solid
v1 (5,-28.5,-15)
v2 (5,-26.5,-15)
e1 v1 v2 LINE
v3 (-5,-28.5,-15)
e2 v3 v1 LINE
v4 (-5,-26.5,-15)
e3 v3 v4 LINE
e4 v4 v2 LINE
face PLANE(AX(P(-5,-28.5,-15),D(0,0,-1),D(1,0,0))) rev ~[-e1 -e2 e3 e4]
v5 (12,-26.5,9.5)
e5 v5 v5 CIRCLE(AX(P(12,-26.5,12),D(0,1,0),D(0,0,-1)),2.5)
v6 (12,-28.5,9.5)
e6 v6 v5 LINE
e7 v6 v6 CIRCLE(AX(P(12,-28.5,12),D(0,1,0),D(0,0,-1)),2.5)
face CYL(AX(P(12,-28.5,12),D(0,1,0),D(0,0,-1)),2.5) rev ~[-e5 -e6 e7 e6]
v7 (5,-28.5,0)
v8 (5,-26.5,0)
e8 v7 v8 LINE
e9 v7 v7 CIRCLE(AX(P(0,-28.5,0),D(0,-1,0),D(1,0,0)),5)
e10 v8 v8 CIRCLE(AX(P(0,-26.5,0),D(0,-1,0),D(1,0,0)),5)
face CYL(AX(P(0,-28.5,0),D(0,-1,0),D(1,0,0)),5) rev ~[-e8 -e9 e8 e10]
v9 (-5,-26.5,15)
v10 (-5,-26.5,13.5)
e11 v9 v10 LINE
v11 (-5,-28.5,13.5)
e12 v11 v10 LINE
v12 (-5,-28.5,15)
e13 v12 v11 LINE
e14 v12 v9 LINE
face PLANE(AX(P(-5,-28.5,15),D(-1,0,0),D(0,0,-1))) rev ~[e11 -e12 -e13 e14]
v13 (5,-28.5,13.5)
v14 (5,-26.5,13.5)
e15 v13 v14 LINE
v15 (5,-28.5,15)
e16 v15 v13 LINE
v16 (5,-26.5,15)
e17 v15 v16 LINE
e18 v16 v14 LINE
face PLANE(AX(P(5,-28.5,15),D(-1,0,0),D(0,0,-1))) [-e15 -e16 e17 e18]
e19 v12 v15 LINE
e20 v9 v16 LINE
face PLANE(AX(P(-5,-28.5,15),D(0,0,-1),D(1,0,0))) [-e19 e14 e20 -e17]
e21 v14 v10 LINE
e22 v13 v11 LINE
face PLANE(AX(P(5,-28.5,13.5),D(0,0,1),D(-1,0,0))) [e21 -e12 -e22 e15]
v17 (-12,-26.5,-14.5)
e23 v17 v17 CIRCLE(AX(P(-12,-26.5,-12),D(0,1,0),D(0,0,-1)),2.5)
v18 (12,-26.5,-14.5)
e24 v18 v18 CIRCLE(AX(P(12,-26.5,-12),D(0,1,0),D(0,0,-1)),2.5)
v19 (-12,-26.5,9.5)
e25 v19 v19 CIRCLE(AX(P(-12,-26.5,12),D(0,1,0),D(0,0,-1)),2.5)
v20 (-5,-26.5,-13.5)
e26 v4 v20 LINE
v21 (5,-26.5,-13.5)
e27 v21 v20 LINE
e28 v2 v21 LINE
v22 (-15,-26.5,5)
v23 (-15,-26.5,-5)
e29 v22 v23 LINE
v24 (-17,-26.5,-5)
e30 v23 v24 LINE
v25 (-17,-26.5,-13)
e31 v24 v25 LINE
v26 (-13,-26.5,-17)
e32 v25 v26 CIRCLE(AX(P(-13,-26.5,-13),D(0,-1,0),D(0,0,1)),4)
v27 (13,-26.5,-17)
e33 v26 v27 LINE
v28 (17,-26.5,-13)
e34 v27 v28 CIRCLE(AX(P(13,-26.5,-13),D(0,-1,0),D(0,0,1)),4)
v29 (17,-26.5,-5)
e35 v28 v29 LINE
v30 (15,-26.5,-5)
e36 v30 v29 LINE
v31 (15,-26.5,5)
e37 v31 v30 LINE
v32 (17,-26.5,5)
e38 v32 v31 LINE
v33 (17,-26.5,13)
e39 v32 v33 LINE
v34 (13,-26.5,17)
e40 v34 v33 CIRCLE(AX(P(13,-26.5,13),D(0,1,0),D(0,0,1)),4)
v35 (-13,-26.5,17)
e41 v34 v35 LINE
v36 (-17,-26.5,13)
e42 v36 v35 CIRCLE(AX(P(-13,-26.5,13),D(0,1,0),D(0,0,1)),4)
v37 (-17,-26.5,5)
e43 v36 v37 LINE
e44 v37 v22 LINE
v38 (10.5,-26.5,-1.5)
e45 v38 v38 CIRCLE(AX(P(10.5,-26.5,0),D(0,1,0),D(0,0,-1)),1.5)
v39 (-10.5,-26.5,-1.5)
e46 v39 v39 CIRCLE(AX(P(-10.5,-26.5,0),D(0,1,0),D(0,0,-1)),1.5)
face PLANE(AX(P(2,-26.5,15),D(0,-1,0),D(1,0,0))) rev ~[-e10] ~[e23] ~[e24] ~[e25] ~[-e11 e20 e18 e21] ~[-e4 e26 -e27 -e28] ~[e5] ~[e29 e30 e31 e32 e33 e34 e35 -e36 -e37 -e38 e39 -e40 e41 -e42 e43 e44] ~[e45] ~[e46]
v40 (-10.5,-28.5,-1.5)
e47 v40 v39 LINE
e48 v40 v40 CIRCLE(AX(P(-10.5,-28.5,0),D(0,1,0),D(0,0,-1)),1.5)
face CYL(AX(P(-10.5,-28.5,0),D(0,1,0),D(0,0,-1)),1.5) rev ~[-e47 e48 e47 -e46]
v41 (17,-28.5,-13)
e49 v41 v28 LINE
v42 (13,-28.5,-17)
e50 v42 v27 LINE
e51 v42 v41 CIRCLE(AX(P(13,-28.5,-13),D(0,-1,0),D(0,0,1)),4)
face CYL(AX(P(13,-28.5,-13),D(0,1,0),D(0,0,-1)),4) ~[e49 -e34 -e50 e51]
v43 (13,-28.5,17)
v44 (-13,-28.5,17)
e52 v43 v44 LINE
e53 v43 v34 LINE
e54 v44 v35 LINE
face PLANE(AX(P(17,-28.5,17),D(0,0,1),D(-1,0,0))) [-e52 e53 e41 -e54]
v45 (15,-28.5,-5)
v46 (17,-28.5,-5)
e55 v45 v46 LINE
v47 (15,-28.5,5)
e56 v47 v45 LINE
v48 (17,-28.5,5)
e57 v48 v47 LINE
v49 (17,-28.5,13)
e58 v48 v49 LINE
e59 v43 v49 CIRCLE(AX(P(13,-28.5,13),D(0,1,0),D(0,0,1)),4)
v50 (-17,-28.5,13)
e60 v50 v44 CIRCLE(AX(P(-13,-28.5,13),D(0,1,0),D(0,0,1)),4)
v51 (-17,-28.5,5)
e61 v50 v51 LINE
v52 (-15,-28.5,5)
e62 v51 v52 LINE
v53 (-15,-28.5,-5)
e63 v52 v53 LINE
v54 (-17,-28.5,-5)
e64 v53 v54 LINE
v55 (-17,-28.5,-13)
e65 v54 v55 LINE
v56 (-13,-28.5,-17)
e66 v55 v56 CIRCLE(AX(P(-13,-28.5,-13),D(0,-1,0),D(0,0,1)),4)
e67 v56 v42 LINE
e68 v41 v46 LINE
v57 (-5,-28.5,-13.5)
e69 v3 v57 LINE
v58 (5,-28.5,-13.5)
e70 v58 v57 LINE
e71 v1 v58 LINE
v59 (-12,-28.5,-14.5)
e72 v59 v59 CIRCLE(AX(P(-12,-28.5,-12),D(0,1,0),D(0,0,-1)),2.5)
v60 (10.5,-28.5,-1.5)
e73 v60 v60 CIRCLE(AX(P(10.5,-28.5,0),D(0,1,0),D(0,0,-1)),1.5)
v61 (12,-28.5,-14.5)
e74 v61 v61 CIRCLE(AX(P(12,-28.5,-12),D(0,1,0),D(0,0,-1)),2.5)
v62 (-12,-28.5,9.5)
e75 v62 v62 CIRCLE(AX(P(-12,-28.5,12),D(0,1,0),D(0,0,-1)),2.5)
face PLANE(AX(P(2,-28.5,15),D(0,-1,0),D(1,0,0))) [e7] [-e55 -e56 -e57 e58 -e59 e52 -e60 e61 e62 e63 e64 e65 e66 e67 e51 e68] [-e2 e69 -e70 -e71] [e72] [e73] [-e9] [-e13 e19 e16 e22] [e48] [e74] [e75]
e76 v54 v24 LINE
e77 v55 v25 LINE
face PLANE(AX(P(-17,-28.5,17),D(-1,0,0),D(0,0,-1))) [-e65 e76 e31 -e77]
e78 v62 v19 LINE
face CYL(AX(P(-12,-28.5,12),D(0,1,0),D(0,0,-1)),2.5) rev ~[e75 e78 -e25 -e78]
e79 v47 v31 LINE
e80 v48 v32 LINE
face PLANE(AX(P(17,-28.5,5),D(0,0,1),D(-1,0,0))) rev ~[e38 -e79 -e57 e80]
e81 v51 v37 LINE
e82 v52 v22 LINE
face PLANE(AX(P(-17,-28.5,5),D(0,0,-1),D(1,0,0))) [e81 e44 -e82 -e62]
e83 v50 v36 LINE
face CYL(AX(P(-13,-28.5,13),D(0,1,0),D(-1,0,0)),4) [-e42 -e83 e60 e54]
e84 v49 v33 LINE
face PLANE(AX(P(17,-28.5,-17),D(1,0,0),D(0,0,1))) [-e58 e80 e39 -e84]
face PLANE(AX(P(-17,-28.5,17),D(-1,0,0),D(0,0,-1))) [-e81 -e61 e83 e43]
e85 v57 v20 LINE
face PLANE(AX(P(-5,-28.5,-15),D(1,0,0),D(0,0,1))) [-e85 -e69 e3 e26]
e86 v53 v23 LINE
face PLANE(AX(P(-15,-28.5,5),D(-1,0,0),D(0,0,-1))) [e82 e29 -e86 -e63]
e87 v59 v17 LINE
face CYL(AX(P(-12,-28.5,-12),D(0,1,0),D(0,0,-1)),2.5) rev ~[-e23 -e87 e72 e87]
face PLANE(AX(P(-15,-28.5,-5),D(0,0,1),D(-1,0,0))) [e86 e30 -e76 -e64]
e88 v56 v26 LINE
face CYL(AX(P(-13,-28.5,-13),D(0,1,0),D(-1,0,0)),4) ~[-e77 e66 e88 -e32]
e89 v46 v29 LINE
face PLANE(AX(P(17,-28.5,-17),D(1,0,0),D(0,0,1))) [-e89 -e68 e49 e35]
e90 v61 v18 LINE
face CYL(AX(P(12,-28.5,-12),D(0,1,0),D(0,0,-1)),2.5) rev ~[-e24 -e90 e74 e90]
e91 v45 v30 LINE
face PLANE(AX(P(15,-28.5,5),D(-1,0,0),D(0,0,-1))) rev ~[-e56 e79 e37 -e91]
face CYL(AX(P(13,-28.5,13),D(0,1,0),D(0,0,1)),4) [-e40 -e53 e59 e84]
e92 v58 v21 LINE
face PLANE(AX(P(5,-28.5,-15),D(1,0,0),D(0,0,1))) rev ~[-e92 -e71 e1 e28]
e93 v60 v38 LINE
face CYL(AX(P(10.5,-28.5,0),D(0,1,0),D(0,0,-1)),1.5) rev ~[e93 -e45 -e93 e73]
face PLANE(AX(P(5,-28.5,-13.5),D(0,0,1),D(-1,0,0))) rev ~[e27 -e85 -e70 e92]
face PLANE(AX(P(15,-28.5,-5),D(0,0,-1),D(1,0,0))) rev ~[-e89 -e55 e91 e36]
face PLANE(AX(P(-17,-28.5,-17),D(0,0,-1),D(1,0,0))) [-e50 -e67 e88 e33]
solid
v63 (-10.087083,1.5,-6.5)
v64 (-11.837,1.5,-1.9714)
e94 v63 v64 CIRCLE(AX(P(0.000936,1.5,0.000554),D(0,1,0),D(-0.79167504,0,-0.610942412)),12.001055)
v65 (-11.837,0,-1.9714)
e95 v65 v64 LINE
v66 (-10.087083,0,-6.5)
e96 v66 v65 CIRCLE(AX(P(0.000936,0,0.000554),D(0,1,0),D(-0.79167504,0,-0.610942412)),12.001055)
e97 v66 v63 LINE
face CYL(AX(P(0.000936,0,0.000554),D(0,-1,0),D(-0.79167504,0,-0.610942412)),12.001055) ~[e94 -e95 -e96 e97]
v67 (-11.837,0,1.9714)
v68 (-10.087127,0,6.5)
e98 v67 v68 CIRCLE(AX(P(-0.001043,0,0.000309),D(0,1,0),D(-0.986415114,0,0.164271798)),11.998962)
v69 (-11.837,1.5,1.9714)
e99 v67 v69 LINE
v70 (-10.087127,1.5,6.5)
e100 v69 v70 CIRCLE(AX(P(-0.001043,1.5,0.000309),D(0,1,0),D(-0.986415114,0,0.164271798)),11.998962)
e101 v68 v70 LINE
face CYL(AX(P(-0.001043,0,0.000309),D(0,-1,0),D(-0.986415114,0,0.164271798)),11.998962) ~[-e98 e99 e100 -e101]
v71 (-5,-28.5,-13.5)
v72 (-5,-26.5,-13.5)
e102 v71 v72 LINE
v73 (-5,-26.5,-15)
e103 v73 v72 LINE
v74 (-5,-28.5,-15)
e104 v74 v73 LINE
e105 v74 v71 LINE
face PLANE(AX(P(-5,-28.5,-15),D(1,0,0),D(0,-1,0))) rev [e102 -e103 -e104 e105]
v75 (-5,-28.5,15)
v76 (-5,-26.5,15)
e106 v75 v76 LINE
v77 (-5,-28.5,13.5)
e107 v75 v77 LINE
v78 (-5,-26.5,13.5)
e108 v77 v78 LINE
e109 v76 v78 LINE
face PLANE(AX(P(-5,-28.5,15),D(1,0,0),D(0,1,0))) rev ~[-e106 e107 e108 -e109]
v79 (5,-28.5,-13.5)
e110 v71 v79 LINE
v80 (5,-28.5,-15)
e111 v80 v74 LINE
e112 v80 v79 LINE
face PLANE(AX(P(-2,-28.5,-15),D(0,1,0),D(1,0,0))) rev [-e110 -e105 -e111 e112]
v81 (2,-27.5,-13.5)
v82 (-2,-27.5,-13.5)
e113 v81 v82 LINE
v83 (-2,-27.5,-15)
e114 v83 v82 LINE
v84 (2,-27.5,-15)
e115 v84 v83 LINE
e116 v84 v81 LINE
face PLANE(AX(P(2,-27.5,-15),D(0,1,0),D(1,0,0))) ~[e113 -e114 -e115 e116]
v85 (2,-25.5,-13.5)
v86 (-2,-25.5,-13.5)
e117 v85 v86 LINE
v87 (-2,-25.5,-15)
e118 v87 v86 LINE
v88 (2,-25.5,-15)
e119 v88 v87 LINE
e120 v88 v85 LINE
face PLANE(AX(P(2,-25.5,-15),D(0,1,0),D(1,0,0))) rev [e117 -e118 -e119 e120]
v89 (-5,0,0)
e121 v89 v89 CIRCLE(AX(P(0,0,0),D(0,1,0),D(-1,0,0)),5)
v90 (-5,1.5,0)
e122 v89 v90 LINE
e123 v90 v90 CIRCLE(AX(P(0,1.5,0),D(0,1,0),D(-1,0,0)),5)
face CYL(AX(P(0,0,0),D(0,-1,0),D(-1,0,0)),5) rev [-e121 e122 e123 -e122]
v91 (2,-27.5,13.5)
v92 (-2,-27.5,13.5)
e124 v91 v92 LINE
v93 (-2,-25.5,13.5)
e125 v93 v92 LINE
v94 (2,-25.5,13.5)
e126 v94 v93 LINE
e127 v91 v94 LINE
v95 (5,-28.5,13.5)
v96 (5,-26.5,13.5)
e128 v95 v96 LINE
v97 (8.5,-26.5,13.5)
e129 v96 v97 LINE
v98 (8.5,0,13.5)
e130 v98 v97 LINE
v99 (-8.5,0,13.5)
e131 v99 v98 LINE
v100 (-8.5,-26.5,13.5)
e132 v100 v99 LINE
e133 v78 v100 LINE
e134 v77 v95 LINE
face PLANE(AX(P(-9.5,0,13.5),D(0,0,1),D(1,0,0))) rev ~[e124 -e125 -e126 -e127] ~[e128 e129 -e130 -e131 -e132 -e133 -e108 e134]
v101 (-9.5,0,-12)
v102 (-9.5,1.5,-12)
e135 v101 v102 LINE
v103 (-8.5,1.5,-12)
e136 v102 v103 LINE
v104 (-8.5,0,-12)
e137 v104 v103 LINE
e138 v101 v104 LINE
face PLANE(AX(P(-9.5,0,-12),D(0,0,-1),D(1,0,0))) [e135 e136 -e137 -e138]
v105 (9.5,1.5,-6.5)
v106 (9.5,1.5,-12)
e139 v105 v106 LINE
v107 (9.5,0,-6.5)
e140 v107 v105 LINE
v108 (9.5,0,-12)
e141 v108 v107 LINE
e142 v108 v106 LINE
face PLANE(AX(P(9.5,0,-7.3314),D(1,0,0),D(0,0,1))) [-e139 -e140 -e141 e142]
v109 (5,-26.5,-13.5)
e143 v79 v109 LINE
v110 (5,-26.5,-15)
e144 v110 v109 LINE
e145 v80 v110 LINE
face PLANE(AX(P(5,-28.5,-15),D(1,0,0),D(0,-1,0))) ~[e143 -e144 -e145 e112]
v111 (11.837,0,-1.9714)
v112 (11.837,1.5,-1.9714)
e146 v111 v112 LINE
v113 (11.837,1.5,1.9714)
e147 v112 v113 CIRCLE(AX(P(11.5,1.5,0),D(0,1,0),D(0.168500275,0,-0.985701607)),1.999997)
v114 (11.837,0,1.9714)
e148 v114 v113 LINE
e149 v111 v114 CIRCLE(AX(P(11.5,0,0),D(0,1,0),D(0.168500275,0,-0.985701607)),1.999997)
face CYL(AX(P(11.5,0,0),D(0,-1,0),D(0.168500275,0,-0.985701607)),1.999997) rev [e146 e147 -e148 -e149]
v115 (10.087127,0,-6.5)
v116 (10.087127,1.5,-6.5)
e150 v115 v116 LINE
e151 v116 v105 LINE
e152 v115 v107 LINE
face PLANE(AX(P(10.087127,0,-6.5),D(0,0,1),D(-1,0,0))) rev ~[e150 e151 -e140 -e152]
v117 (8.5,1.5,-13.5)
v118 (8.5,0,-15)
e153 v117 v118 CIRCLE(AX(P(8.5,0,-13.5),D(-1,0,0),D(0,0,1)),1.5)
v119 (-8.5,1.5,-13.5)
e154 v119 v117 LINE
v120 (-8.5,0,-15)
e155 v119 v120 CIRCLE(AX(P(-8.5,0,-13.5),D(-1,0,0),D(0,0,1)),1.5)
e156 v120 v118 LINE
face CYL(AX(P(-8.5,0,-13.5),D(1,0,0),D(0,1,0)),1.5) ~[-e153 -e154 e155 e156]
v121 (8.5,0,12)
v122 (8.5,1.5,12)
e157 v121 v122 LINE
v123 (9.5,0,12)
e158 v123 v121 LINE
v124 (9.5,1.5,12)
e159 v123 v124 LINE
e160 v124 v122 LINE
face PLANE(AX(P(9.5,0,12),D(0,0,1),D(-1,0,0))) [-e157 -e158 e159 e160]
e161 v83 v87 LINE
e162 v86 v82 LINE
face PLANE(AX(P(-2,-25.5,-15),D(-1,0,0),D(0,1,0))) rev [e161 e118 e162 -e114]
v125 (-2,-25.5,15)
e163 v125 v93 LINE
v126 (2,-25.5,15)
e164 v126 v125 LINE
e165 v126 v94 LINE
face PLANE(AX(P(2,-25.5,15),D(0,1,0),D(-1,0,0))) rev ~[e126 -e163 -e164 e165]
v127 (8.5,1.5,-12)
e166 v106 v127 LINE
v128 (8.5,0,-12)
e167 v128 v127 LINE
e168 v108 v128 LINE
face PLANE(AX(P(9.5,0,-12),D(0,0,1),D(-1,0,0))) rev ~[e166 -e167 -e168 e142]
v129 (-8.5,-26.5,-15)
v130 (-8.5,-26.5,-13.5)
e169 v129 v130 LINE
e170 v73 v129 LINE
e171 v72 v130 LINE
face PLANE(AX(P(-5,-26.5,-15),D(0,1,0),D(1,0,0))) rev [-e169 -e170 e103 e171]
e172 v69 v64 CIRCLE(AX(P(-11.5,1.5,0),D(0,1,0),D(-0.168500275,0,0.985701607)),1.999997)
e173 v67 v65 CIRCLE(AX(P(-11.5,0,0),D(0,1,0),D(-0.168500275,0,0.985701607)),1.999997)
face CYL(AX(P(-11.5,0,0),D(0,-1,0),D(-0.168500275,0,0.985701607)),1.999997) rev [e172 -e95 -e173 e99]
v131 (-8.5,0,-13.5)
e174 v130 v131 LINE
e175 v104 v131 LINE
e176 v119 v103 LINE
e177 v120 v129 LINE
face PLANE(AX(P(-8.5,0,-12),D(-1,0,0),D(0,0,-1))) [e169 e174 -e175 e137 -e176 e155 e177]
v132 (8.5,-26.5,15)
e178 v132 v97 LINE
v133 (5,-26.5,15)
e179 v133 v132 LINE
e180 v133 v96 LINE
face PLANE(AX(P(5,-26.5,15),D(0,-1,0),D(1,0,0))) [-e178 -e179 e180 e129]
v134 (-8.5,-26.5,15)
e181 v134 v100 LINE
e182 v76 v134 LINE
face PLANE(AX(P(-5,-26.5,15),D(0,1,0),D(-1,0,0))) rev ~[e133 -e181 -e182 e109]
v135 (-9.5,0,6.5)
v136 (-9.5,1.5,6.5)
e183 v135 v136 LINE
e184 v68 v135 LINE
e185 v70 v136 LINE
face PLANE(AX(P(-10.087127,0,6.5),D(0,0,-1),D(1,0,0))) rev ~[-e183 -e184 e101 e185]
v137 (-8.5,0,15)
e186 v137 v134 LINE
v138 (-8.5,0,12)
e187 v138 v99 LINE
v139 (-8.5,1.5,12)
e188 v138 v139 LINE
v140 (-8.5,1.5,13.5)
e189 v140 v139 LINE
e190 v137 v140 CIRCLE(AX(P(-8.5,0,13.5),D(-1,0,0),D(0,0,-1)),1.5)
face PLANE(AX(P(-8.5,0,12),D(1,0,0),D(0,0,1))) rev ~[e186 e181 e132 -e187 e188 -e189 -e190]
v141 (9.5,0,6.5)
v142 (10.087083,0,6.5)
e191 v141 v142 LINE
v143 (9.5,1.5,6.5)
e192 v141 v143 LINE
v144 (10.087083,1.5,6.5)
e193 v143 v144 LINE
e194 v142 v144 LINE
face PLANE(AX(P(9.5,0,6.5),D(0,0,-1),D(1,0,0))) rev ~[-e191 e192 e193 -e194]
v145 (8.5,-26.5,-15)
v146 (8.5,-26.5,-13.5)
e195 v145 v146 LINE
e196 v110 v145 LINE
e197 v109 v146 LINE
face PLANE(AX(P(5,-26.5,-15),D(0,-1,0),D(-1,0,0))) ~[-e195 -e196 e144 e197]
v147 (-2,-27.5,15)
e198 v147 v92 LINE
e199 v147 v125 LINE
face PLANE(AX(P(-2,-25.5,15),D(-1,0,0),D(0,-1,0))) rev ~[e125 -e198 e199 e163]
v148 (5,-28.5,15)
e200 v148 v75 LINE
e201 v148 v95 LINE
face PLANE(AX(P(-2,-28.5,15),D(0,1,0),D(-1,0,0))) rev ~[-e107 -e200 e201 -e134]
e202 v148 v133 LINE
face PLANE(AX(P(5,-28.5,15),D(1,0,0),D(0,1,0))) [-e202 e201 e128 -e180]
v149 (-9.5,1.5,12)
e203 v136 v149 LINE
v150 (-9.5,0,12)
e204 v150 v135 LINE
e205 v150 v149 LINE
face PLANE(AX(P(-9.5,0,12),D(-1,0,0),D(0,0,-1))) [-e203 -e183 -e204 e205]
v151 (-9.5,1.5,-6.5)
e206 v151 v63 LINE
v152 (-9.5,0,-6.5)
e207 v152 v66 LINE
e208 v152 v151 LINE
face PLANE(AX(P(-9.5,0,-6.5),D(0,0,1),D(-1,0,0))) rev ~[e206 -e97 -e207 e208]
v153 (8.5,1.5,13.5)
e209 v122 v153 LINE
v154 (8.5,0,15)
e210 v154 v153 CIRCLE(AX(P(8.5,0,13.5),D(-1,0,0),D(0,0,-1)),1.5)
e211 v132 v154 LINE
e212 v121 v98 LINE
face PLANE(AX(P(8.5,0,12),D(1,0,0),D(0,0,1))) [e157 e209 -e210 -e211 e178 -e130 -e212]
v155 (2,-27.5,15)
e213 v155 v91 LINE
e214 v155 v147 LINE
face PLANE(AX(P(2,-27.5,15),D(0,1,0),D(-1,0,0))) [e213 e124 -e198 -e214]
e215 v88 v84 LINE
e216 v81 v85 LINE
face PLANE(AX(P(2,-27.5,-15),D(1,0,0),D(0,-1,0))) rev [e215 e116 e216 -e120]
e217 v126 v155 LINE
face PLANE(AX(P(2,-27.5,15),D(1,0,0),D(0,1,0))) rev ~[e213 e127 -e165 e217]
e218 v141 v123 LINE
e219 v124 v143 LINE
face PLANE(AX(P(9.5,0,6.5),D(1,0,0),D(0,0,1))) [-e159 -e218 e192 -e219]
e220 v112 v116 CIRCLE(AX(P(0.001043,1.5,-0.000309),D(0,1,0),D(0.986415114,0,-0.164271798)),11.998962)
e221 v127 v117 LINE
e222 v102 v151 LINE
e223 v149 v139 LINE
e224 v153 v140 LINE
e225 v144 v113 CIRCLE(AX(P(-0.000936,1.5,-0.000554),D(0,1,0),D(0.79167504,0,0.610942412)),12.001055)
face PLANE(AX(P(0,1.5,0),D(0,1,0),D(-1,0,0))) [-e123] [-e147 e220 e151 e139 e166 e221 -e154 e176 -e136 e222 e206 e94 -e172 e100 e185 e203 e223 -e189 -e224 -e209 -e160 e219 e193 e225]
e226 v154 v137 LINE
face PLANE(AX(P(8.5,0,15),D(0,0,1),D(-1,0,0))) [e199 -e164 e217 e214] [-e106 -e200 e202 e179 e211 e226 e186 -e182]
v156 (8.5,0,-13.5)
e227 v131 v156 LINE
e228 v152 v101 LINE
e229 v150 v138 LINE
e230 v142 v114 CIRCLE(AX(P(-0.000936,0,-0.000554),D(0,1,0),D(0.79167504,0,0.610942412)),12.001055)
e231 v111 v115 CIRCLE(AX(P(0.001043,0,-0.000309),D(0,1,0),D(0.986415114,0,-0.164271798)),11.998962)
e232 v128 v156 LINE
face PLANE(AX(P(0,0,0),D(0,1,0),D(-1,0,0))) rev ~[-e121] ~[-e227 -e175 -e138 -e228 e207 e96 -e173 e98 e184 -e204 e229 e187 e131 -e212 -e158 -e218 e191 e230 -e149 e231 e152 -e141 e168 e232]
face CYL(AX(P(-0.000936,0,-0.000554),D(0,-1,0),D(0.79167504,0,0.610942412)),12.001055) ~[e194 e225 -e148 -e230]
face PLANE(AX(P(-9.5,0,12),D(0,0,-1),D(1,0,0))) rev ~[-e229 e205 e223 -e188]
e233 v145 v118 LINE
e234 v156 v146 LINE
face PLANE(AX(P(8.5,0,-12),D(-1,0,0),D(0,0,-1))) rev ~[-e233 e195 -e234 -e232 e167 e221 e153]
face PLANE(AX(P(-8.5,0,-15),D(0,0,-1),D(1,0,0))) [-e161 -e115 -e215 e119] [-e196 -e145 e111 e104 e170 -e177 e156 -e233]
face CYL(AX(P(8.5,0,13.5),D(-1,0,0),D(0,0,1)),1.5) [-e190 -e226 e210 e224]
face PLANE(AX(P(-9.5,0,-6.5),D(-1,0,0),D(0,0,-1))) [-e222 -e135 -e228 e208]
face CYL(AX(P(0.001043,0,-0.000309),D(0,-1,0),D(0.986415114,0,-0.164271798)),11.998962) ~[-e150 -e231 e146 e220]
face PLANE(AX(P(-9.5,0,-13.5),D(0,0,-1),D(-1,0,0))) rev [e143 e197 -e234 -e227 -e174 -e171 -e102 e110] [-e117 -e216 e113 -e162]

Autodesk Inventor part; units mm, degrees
ref_plane "YZ Plane" through (0, 0, 0) normal (1, 0, 0) x (0, 1, 0)
ref_plane "XZ Plane" through (0, 0, 0) normal (0, 1, 0) x (-1, 0, 0)
ref_plane "XY Plane" through (0, 0, 0) normal (0, 0, 1) x (1, 0, 0)
sketch "Sketch1" plane through (0, 0, 0) normal (0, 1, 0) x (-1, 0, 0)
  line L0 (-9.5, 15) -> (9.5, 15)
  line L1 (9.5, -15) -> (-9.5, -15)
  line L2 (-9.5, 15) -> (9.5, -15) construction
  line L3 (9.5, 15) -> (-9.5, -15) construction
  arc A0 (11.837, 1.9714) -> (11.837, -1.9714) centre (11.5, 0) ccw
  arc A1 (-11.837, -1.9714) -> (-11.837, 1.9714) centre (-11.5, 0) ccw
  arc A2 (11.837, 1.9714) -> (9.5, 7.3314) centre (0, 0) ccw
  arc A3 (-9.5, 7.3314) -> (-11.837, 1.9714) centre (0, 0) ccw
  arc A4 (-11.837, -1.9714) -> (-9.5, -7.3314) centre (0, 0) ccw
  arc A5 (9.5, -7.3314) -> (11.837, -1.9714) centre (0, 0) ccw
  line L4 (9.5, 15) -> (9.5, 6.5)
  line L5 (9.5, -6.5) -> (9.5, -15)
  line L6 (-9.5, -15) -> (-9.5, -6.5)
  line L7 (-9.5, 6.5) -> (-9.5, 15)
  circle A6 centre (0, 0) radius 5
  line L8 (9.5, -12) -> (8.5, -12)
  line L9 (8.5, -12) -> (8.5, -15)
  line L10 (8.5, -15) -> (9.5, -15)
  line L11 (9.5, -15) -> (9.5, -12)
  line L12 (-8.5, -15) -> (-9.5, -15)
  line L13 (-9.5, -15) -> (-9.5, -12)
  line L14 (-9.5, -12) -> (-8.5, -12)
  line L15 (-8.5, -12) -> (-8.5, -15)
  line L16 (9.5, 12) -> (8.5, 12)
  line L17 (8.5, 12) -> (8.5, 15)
  line L18 (8.5, 15) -> (9.5, 15)
  line L19 (9.5, 15) -> (9.5, 12)
  line L20 (-8.5, 15) -> (-9.5, 15)
  line L21 (-9.5, 15) -> (-9.5, 12)
  line L22 (-9.5, 12) -> (-8.5, 12)
  line L23 (-8.5, 12) -> (-8.5, 15)
  line L24 (14.0753, 6.5) -> (-14.0753, 6.5)
  line L25 (-14.0753, 6.5) -> (-14.0753, -6.5)
  line L26 (-14.0753, -6.5) -> (14.0753, -6.5)
  line L27 (14.0753, -6.5) -> (14.0753, 6.5)
  line L28 (14.0753, 6.5) -> (-14.0753, -6.5) construction
  line L29 (-14.0753, 6.5) -> (14.0753, -6.5) construction
  point P0 (0, 0)
  point P1 (9.5, 11.1657)
  point P2 (0, -15)
  point P3 (0, 15)
  point P4 (0, 0)
  point P5 (9, -12)
  point P6 (-10.0871, 6.5)
  point P7 (-10.0871, -6.5)
  point P8 (10.0871, -6.5)
  point P9 (10.0871, 6.5)
  dimension "d0" = 19
  dimension "d1" = 30
  dimension "d2" = 4
  dimension "d3" = 4
  dimension "d17" = 10
  dimension "d21" = 19
  dimension "d22" = 15
  dimension "d23" = 12
  dimension "d24" = 12
  dimension "d25" = 12
  dimension "d26" = 12
  dimension "d27" = 11.5
  dimension "d28" = 11.5
  dimension "d29" = 17
  dimension "d30" = 8.5
  dimension "d31" = 12
  dimension "d32" = 12
  dimension "d33" = 13
extrude "Extrusion1" add sketch "Sketch1" along normal blind 1.5 contours L0 L17 L16 L4 L24 L7 L22 L23 | L24 A2 A0 A5 L26 A4 A1 A3 | L6 L26 L5 L8 L9 L1 L15 L14
sketch "Sketch2" plane through (-9.5, 0, 15) normal (0, 0, 1) x (1, 0, 0)
  line L0 (7.5, -28.5) -> (7.5, -26.5)
  line L1 (11.5, -28.5) -> (11.5, -26.5)
  line L2 (7.5, -26.5) -> (11.5, -26.5)
  line L3 (1, 1.5) -> (18, 1.5)
  line L4 (18, 1.5) -> (18, -28.5)
  line L5 (18, -28.5) -> (1, -28.5)
  line L6 (1, -28.5) -> (1, 1.5)
  line L7 (18, 0) -> (18, 1.5) projected
  line L8 (18, -28.5) -> (14.5, -28.5)
  line L9 (14.5, -28.5) -> (14.5, -26.5)
  line L10 (14.5, -26.5) -> (18, -26.5)
  line L11 (18, -26.5) -> (18, -28.5)
  line L12 (1, -28.5) -> (4.5, -28.5)
  line L13 (4.5, -28.5) -> (4.5, -26.5)
  line L14 (4.5, -26.5) -> (1, -26.5)
  line L15 (1, -26.5) -> (1, -28.5)
  line L16 (1, 0) -> (1, 1.5) projected
  line L17 (7.5, -26.5) -> (11.5, -26.5)
  line L18 (11.5, -26.5) -> (11.5, -25.5)
  line L19 (11.5, -25.5) -> (7.5, -25.5)
  line L20 (7.5, -25.5) -> (7.5, -26.5)
  line L21 (7.5, -28.5) -> (11.5, -28.5)
  line L22 (11.5, -28.5) -> (11.5, -27.5)
  line L23 (11.5, -27.5) -> (7.5, -27.5)
  line L24 (7.5, -27.5) -> (7.5, -28.5)
  point P0 (9.5, 1.5)
  point P1 (9.5, -26.5)
  dimension "d36" = 30
  dimension "d37" = 4
  dimension "d38" = 2
  dimension "d39" = 3
  dimension "d40" = 3
  dimension "d48" = 1
  dimension "d49" = 1
extrude "Extrusion2" add sketch "Sketch2" against normal blind 1.5 contours L5 L13 L14 L6 L3 L4 L10 L9 L1 L18 L19 L20 L0 | L0 L23 L1 L5
mirror "Mirror2" about plane through (0, 0, 0) normal (0, 0, 1) of "Extrusion2"
fillet "Fillet1" radius 1.5 2 edges at (0, 1.5, 15) (0, 1.5, -15)
sketch "Sketch4" plane through (2, -28.5, 15) normal (0, -1, 0) x (1, 0, 0)
  line L0 (-19, -32) -> (15, -32)
  line L1 (15, -32) -> (15, 2)
  line L2 (15, 2) -> (-19, 2)
  line L3 (-19, 2) -> (-19, -32)
  line L4 (-19, -32) -> (15, 2) construction
  line L5 (15, -32) -> (-19, 2) construction
  point P0 (-2, -15)
  dimension "d44" = 34
  dimension "d45" = 34
extrude "Extrusion3" add sketch "Sketch4" against normal blind 2 separate body
sketch "Sketch5" plane through (2, -28.5, 15) normal (0, -1, 0) x (1, 0, 0)
  line L0 (-14, -27) -> (10, -27)
  line L1 (10, -27) -> (10, -3)
  line L2 (10, -3) -> (-14, -3)
  line L3 (-14, -3) -> (-14, -27)
  line L4 (-14, -27) -> (10, -3) construction
  line L5 (10, -27) -> (-14, -3) construction
  point P0 (-2, -15)
  dimension "d50" = 24
  dimension "d51" = 24
hole "Hole1" at (-12, -28.5, 12) at (12, -28.5, 12) at (12, -28.5, -12) at (-12, -28.5, -12) direction (0, 1, 0) diameter 5 end through all bodies 2
fillet "Fillet2" radius 4 4 edges at (17, -27.5, 17) (-17, -27.5, 17) (-17, -27.5, -17) (17, -27.5, -17)
sketch "Sketch6" plane through (2, -28.5, 15) normal (0, -1, 0) x (1, 0, 0)
  line L0 (-7, 0) -> (3, 0) projected
  line L1 (-7, 0) -> (-7, -1.5) projected
  line L2 (3, -1.5) -> (-7, -1.5) projected
  line L3 (3, 0) -> (3, -1.5) projected
  line L4 (-7, -30) -> (3, -30) projected
  line L5 (3, -30) -> (3, -28.5) projected
  line L6 (3, -28.5) -> (-7, -28.5) projected
  line L7 (-7, -30) -> (-7, -28.5) projected
  point P0 (-2, -15)
extrude "Extrusion4" cut sketch "Sketch6" against normal through all bodies 2
sketch "Sketch7" plane through (2, -28.5, 15) normal (0, -1, 0) x (1, 0, 0)
  line L0 (-7, -30) -> (3, -30) projected
  line L1 (3, -30) -> (3, -28.5) projected
  line L2 (3, -28.5) -> (-7, -28.5) projected
  line L3 (-7, -28.5) -> (-7, -30) projected
  line L4 (-7, 0) -> (-7, -1.5) projected
  line L5 (-7, -1.5) -> (3, -1.5) projected
  line L6 (3, -1.5) -> (3, 0) projected
  line L7 (3, 0) -> (-7, 0) projected
  arc A0 (-19, -28) -> (-15, -32) centre (-15, -28) ccw projected
  line L8 (-19, -28) -> (-19, -2) projected
  arc A1 (-15, 2) -> (-19, -2) centre (-15, -2) ccw projected
  line L9 (-15, 2) -> (11, 2) projected
  arc A2 (15, -2) -> (11, 2) centre (11, -2) ccw projected
  line L10 (15, -2) -> (15, -28) projected
  arc A3 (11, -32) -> (15, -28) centre (11, -28) ccw projected
  line L11 (11, -32) -> (-15, -32) projected
  circle A4 centre (-14, -27) radius 2.5 projected
  circle A5 centre (10, -27) radius 2.5 projected
  circle A6 centre (10, -3) radius 2.5 projected
  circle A7 centre (-14, -3) radius 2.5 projected
  line L12 (-19, -10) -> (-17, -10)
  line L13 (-17, -10) -> (-17, -20)
  line L14 (-17, -20) -> (-19, -20)
  line L15 (-19, -20) -> (-19, -10)
  line L16 (15, -10) -> (13, -10)
  line L17 (13, -10) -> (13, -20)
  line L18 (13, -20) -> (15, -20)
  line L19 (15, -20) -> (15, -10)
  point P0 (-2, -15)
  point P1 (-19, -15)
  point P2 (15, -20)
  dimension "d62" = 2
  dimension "d63" = 2
  dimension "d64" = 10
extrude "Extrusion5" cut sketch "Sketch7" against normal through all contours L8 L12 L13 L14 | L18 L17 L16 L10 bodies 2
sketch "Sketch8" plane through (2, -28.5, 15) normal (0, -1, 0) x (1, 0, 0)
  circle A0 centre (-2, -15) radius 5 projected
  point P0 (-2, -15)
extrude "Extrusion6" cut sketch "Sketch8" against normal through all bodies 2
sketch "Sketch9" plane through (2, -28.5, 15) normal (0, -1, 0) x (1, 0, 0)
  line L0 (-12.5, -15) -> (8.5, -15)
  line L1 (11, 2) -> (-15, 2) projected
  point P0 (-2, -15)
  point P1 (-2, -15)
  dimension "d69" = 21
hole "Hole2" at (-10.5, -28.5, 0) at (10.5, -28.5, 0) direction (0, 1, 0) diameter 3 end through all bodies 2
equation "\"d21\" = d0"
equation "\"d22\" = 0.5 * d1"
equation "\"d28\" = d27"
equation "\"d30\" = 0.5 * d29"
equation "\"d32\" = d31"
equation "\"d40\" = d39"
equation "\"d45\" = d44"
equation "\"d57\" = Thickness"
equation "\"d63\" = d62"
equation "\"BendReliefWidth\" = Thickness"
equation "\"BendReliefDepth\" = 0.5 * Thickness"
equation "\"CornerReliefSize\" = 4 * Thickness"
equation "\"MinimumRemnant\" = 2 * Thickness"
equation "\"GapSize\" = Thickness"
equation "\"d4\" = Thickness"
equation "\"Thickness\" = 1.5"
properties part number "Frame" material "Steel, Galvanized"
